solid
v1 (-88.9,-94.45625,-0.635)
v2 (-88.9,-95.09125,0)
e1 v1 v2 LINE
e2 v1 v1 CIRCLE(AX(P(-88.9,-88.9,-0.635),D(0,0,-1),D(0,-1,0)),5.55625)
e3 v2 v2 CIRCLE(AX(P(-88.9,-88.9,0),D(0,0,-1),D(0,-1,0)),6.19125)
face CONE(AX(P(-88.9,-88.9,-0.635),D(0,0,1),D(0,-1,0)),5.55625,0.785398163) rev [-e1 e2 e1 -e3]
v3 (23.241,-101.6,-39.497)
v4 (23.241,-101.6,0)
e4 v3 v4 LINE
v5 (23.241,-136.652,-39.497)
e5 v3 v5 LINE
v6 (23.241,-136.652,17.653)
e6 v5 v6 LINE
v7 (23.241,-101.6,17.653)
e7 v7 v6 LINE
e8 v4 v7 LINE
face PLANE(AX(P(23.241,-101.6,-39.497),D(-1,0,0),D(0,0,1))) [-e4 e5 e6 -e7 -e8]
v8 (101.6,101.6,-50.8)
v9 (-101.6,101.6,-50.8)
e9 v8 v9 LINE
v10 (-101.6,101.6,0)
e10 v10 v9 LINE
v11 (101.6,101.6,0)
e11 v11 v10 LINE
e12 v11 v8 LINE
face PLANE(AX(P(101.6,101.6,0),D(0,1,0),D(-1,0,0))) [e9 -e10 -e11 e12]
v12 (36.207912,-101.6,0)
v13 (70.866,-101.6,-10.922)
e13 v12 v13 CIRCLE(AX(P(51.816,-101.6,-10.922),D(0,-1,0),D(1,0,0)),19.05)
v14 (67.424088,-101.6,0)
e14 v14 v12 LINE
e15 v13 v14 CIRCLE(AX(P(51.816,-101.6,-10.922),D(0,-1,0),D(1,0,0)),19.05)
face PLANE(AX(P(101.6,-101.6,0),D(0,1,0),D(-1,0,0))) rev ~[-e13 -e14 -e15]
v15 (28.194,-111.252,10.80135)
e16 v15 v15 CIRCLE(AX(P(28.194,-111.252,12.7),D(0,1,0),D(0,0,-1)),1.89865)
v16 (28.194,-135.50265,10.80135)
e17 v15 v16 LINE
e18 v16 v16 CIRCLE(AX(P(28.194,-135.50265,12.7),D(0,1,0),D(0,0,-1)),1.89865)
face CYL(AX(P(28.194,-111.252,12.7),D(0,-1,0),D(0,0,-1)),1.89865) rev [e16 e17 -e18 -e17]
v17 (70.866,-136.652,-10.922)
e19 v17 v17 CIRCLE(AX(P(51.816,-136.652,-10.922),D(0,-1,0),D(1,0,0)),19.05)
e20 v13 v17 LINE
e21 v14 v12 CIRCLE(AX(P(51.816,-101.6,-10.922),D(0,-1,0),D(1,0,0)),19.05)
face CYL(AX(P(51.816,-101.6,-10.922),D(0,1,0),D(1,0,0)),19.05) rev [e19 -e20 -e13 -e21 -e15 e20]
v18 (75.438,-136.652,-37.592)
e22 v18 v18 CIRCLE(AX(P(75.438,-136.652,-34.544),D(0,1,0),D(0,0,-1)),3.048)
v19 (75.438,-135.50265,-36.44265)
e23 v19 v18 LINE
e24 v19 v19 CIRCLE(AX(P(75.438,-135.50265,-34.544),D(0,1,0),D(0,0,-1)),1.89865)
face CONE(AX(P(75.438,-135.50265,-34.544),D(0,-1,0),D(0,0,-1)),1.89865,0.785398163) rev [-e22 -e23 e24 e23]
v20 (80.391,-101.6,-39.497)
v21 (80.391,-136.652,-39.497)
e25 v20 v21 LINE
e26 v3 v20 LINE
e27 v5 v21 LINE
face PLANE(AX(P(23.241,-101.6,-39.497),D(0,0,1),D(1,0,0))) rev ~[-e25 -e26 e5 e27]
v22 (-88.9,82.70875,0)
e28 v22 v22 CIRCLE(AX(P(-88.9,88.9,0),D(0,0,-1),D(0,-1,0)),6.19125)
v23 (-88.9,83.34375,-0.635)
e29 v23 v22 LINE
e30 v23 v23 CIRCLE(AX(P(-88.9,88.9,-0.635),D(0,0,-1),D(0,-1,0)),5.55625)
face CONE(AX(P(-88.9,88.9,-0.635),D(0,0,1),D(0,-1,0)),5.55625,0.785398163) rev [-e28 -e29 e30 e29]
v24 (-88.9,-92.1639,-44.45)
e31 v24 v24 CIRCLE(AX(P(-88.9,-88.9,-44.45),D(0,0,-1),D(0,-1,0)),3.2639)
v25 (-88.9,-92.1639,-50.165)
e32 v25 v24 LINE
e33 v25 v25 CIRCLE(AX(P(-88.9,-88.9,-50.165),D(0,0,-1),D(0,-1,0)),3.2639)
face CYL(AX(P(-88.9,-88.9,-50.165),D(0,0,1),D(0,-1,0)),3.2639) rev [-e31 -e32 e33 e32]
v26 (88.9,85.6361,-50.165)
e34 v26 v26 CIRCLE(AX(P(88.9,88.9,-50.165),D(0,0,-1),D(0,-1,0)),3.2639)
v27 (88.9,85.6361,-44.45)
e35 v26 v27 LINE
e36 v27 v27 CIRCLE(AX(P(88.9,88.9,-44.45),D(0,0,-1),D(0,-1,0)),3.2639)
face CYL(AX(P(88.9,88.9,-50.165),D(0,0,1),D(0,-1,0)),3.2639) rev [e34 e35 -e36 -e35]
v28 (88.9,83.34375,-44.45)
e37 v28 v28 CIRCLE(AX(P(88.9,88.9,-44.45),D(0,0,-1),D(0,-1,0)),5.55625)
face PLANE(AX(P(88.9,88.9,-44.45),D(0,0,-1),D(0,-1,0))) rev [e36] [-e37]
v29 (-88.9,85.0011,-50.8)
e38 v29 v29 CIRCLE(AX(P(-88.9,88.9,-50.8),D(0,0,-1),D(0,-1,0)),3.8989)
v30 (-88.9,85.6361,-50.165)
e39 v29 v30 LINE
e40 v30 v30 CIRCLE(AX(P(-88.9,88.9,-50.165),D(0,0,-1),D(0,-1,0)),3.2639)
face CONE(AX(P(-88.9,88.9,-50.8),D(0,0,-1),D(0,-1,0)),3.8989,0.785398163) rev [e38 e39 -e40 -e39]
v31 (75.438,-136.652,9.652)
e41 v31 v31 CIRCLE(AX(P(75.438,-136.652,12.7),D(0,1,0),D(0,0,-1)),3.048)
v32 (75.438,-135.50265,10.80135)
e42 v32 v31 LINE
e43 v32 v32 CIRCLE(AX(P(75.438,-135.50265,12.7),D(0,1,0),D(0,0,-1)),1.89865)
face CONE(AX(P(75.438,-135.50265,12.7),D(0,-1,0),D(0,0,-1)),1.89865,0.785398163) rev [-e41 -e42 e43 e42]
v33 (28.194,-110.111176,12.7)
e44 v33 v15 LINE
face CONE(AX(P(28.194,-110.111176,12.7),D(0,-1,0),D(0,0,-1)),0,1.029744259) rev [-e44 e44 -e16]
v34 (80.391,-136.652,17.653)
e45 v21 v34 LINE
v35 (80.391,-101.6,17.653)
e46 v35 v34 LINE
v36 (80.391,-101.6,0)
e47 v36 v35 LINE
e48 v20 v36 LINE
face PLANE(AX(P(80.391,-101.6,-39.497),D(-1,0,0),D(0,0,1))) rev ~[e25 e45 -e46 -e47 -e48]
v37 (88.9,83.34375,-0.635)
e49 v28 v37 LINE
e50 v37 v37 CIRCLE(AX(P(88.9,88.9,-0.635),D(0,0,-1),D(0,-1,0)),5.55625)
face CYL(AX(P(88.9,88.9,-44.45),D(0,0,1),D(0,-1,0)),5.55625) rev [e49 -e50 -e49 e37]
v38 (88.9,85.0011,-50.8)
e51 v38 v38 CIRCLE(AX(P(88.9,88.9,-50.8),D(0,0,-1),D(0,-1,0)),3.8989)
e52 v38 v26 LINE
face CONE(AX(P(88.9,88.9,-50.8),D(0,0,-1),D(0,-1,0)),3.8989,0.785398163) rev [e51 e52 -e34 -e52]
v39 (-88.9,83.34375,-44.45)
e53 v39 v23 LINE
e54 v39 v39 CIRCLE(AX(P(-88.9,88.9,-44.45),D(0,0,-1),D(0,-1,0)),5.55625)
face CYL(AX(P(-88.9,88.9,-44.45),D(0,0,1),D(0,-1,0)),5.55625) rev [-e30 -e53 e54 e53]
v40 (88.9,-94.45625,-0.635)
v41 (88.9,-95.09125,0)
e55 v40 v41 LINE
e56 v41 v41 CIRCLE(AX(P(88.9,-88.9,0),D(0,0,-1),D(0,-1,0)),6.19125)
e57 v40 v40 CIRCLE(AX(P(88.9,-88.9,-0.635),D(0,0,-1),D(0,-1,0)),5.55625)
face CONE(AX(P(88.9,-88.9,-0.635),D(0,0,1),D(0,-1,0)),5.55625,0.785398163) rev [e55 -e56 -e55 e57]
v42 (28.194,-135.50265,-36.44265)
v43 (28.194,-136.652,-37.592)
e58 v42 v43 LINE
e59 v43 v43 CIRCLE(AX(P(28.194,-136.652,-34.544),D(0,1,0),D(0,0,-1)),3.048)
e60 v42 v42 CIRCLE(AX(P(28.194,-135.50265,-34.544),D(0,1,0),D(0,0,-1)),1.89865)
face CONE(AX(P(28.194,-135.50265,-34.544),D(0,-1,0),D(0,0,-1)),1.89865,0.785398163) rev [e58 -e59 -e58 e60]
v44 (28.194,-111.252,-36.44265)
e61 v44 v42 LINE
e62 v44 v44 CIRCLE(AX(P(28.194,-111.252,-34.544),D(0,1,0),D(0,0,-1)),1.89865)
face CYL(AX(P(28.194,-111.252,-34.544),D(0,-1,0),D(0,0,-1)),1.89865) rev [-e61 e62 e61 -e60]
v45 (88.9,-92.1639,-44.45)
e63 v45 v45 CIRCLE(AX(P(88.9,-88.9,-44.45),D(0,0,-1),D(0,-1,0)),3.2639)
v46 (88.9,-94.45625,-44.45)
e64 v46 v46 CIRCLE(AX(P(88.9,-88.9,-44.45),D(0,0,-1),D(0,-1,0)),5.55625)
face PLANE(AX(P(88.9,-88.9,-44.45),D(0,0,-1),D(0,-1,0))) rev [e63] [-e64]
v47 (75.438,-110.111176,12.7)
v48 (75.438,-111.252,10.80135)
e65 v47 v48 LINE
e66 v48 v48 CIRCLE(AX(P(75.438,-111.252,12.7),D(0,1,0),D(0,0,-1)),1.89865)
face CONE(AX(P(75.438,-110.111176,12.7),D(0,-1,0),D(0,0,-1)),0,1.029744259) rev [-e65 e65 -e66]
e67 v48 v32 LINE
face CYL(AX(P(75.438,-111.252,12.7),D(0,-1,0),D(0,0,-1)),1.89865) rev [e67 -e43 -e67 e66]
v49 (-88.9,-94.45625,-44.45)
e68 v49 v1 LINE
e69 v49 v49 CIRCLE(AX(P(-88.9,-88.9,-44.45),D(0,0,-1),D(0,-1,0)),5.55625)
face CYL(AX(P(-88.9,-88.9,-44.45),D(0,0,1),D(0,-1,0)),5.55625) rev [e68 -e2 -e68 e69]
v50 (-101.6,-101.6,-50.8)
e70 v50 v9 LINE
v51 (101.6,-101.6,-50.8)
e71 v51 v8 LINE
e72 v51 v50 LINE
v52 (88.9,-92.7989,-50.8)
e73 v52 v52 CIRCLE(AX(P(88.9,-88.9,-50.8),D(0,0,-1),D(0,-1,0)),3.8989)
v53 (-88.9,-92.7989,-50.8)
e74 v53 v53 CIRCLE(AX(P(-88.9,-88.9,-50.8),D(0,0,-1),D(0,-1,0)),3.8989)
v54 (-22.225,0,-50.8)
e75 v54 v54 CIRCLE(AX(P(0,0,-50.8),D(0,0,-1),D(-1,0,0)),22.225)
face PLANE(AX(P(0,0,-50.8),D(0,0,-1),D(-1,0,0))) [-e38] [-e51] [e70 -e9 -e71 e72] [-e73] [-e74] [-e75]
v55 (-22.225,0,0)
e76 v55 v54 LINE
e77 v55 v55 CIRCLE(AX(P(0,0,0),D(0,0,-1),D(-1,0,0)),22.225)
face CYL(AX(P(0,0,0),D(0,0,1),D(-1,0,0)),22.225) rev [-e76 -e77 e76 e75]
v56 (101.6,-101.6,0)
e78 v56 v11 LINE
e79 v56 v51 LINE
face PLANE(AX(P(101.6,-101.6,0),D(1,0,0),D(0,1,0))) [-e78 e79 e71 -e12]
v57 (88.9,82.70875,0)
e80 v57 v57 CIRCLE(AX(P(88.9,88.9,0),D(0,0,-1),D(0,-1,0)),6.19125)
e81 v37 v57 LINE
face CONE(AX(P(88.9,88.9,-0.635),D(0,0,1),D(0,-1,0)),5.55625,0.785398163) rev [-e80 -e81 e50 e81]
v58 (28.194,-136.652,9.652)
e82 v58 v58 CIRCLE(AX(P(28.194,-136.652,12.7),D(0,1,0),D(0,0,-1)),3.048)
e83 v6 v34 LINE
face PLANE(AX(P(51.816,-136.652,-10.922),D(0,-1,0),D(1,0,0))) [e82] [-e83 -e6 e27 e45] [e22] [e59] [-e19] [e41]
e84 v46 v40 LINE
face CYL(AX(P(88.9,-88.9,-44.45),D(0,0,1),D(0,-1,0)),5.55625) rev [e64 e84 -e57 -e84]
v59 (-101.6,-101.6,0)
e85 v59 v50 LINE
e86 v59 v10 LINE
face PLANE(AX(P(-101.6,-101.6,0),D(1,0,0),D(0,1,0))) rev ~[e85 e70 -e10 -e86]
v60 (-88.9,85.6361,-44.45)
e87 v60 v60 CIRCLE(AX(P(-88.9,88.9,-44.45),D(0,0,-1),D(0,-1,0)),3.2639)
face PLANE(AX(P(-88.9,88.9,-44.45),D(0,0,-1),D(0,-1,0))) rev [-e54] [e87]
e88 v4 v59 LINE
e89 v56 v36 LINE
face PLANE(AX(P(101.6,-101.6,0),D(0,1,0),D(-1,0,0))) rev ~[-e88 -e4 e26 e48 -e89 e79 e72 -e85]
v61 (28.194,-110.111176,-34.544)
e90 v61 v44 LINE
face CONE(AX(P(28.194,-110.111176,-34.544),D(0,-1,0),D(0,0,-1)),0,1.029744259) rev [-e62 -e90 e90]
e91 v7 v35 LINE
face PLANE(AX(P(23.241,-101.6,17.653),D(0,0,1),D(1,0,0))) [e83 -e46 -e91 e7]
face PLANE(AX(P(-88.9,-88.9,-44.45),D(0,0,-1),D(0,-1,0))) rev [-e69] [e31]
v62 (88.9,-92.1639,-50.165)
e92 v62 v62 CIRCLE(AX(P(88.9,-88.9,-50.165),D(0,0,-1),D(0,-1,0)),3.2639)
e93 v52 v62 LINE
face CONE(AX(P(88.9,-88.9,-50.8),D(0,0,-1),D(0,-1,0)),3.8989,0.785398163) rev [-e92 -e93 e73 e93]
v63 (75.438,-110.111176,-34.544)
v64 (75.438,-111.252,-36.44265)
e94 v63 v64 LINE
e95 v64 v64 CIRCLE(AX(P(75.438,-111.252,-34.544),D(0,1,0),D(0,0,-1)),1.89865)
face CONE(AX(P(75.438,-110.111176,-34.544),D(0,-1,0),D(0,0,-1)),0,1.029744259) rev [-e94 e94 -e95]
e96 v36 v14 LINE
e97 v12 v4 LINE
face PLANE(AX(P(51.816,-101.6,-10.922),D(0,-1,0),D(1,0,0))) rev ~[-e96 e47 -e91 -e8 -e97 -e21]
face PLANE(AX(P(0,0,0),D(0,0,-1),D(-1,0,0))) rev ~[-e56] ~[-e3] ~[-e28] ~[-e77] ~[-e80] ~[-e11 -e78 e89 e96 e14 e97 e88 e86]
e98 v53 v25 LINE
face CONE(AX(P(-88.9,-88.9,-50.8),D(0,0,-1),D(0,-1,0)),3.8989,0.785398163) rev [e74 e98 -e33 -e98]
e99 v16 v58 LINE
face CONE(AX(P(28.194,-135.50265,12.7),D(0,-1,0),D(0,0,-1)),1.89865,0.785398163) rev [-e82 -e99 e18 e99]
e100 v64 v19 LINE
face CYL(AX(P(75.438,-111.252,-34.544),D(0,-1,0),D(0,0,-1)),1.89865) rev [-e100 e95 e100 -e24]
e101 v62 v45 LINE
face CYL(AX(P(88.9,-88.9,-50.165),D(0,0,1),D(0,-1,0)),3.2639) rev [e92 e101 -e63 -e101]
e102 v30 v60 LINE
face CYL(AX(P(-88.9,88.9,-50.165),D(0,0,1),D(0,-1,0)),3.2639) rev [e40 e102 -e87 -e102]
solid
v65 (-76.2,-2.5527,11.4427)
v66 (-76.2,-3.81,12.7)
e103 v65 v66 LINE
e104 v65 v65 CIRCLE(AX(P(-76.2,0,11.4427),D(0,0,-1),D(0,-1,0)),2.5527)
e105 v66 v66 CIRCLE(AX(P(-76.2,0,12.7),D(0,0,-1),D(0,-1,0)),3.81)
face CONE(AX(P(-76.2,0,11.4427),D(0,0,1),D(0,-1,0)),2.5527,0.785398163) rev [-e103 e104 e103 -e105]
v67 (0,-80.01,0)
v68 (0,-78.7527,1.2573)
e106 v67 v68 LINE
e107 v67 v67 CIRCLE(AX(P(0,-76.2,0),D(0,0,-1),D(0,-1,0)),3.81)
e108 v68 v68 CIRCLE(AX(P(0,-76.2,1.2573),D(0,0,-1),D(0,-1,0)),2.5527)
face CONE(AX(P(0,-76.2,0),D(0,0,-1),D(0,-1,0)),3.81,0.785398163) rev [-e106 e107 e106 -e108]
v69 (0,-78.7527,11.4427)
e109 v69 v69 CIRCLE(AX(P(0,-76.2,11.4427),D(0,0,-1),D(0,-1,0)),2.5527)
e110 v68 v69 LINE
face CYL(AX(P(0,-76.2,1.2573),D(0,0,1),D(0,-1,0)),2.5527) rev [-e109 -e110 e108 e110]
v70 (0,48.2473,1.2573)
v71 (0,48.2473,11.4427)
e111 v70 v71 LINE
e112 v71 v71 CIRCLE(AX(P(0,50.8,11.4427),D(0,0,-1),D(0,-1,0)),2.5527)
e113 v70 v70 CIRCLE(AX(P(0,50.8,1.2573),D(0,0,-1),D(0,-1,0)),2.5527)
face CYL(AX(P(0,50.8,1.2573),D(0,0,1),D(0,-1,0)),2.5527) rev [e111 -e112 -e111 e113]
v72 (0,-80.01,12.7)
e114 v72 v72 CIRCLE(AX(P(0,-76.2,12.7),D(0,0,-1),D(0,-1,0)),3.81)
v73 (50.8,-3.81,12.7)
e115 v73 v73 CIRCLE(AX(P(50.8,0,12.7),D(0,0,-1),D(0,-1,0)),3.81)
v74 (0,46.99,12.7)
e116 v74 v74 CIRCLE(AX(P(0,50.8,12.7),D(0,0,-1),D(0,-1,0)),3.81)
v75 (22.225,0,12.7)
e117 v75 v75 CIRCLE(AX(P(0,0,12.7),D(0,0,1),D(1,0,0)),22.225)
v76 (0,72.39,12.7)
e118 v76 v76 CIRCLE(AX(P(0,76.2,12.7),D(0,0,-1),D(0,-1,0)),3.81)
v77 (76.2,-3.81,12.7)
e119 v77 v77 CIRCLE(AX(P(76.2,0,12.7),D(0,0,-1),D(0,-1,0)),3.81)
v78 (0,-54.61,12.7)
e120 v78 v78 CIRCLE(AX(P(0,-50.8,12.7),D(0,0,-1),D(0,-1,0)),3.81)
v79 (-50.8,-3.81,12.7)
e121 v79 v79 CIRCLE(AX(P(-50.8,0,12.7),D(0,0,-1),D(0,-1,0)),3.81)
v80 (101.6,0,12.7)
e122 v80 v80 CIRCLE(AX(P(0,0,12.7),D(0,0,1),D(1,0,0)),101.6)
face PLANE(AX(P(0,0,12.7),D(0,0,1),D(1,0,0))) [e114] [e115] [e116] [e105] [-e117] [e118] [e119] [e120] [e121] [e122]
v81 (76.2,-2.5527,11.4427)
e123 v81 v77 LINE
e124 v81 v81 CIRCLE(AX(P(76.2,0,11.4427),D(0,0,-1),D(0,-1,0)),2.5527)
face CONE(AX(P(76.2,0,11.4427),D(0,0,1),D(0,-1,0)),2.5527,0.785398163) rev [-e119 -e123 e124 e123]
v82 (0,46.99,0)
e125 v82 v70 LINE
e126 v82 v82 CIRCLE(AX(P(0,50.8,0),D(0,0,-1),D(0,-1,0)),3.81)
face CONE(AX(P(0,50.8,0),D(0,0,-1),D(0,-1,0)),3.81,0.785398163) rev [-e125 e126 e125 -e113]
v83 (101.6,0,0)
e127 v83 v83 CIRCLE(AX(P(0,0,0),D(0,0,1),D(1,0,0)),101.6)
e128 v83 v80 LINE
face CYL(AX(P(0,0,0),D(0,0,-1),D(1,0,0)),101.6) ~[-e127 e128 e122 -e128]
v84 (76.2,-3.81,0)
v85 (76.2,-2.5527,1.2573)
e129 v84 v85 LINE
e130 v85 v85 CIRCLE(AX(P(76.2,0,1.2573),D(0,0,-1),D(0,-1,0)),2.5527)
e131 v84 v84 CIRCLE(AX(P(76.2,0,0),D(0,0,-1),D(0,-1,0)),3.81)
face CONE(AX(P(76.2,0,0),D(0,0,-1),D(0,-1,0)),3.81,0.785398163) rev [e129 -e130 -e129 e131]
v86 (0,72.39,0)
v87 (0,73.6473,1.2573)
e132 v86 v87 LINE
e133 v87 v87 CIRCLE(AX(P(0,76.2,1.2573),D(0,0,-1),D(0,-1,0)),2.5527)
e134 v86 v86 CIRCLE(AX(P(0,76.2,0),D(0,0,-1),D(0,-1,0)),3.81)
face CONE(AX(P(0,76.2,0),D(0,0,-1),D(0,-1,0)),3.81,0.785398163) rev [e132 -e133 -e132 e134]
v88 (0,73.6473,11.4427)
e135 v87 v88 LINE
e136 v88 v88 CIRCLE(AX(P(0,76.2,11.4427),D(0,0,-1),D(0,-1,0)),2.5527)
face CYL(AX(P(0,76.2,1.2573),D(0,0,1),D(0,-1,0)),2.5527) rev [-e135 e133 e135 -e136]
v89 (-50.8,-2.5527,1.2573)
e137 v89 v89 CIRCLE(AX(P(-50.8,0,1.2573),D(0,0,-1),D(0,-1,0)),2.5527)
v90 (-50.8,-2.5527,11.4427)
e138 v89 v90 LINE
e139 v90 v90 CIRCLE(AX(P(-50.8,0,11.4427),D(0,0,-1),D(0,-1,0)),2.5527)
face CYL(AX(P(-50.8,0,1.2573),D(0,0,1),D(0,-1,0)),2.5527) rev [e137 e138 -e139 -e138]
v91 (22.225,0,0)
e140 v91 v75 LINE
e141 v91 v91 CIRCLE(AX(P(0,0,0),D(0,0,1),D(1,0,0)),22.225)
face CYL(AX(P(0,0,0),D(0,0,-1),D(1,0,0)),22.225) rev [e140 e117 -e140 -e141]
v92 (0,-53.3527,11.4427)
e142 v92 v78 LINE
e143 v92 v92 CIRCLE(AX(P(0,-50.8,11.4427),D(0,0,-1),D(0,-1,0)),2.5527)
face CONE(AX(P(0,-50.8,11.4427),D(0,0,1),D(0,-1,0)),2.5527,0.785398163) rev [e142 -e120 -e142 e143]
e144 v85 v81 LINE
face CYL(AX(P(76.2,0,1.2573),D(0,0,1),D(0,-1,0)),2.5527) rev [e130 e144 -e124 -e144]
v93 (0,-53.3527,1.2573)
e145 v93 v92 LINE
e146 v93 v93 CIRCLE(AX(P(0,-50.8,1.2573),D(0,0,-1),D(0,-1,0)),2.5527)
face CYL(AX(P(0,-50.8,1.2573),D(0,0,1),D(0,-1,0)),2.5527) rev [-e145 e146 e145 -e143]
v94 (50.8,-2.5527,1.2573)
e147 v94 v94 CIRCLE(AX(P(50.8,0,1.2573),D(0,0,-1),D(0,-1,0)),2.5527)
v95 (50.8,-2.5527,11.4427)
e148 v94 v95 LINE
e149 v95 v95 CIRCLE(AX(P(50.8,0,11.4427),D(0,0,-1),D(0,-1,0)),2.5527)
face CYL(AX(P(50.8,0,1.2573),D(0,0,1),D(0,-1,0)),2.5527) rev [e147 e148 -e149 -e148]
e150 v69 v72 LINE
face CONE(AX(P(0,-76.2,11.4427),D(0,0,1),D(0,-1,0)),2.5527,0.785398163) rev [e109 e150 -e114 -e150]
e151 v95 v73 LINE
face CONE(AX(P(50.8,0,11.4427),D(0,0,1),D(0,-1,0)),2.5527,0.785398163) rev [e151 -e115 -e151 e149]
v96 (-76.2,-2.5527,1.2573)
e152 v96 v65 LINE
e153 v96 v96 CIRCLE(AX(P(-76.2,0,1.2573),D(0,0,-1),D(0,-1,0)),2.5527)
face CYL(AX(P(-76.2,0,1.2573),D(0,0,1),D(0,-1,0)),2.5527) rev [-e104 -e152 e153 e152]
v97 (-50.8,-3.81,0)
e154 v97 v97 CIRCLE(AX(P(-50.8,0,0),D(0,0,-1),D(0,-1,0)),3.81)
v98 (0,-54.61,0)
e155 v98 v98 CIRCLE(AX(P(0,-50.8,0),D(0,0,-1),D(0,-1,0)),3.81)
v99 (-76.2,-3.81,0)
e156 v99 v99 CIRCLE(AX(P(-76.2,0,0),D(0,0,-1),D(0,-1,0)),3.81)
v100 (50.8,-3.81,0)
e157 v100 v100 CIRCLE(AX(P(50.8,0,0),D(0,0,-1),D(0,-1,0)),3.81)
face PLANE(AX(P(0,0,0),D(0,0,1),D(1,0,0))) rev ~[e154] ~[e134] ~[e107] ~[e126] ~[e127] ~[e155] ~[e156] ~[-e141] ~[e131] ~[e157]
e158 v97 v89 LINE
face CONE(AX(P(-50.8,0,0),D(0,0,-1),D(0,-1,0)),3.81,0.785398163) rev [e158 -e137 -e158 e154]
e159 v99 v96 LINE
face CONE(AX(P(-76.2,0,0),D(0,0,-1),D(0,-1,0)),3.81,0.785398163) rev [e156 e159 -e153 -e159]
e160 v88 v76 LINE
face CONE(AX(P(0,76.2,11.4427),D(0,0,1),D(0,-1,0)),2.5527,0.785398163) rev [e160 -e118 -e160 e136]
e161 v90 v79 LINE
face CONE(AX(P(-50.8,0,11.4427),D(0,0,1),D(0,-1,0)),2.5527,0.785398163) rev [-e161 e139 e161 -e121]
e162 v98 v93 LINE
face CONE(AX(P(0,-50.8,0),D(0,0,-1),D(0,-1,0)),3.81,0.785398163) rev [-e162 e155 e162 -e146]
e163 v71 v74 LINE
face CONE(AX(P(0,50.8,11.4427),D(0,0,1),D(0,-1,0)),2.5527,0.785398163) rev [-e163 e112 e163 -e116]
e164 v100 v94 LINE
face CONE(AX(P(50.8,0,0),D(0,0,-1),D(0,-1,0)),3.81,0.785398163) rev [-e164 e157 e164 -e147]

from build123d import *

# Parameters (mm, degrees)
SKETCH1_R                                     = 101.6
SKETCH1_R_2                                   = 22.225
BOSS_EXTRUDE1_DEPTH                           = 12.7
F_1_4_20_TAPPED_HOLE1_AT_2_COUNT              = 2
F_1_4_20_TAPPED_HOLE1_AT_2_PITCH              = 91.581002397
F_1_4_20_TAPPED_HOLE1_AT_3_COUNT              = 2
F_1_4_20_TAPPED_HOLE1_AT_3_PITCH              = 71.842048969
F_1_4_20_TAPPED_HOLE1_AT_4_COUNT              = 2
F_1_4_20_TAPPED_HOLE1_AT_4_PITCH              = 127
F_1_4_20_TAPPED_HOLE1_AT_5_COUNT              = 2
F_1_4_20_TAPPED_HOLE1_AT_5_PITCH              = 101.6
F_1_4_20_TAPPED_HOLE1_AT_6_COUNT              = 2
F_1_4_20_TAPPED_HOLE1_AT_6_PITCH              = 91.581002397
F_1_4_20_TAPPED_HOLE1_AT_7_COUNT              = 2
F_1_4_20_TAPPED_HOLE1_AT_7_PITCH              = 71.842048969
F_1_4_20_TAPPED_HOLE1_AT_8_COUNT              = 2
F_1_4_20_TAPPED_HOLE1_AT_8_PITCH              = 25.4
SKETCH4_W                                     = 203.2
SKETCH4_H                                     = 203.2
SKETCH4_R                                     = 22.225
BOSS_EXTRUDE2_DEPTH                           = 50.8
CBORE_FOR_1_4_SOCKET_HEAD_CAP_SCREW1_AT_COUNT = 2
CBORE_FOR_1_4_SOCKET_HEAD_CAP_SCREW1_AT_PITCH = 251.44717139
CBORE_FOR_1_4_SOCKET_HEAD_CAP_SCREW1_2_COUNT  = 2
CBORE_FOR_1_4_SOCKET_HEAD_CAP_SCREW1_2_PITCH  = 177.8
CBORE_FOR_1_4_SOCKET_HEAD_CAP_SCREW1_3_COUNT  = 2
CBORE_FOR_1_4_SOCKET_HEAD_CAP_SCREW1_3_PITCH  = 177.8
SKETCH7_W                                     = 57.15
SKETCH7_H                                     = 57.15
SKETCH7_R                                     = 19.05
BOSS_EXTRUDE3_DEPTH                           = 35.052
F_10_24_TAPPED_HOLE1_AT_2_COUNT               = 2
F_10_24_TAPPED_HOLE1_AT_2_PITCH               = 66.813105541
F_10_24_TAPPED_HOLE1_AT_3_COUNT               = 2
F_10_24_TAPPED_HOLE1_AT_3_PITCH               = 47.244
F_10_24_TAPPED_HOLE1_AT_4_COUNT               = 2
F_10_24_TAPPED_HOLE1_AT_4_PITCH               = 47.244


with BuildPart() as part:
    # Sketch1 → Boss-Extrude1 (new body)
    with BuildSketch(Plane.XY):
        Circle(SKETCH1_R)
        Circle(SKETCH1_R_2, mode=Mode.SUBTRACT)
    extrude(amount=BOSS_EXTRUDE1_DEPTH)

    # Sketch3 → 1_4-20 Tapped Hole1 (revolve, cut)
    with BuildSketch(Plane(origin=(-50.8, 0, 12.7), x_dir=(0, -1, 0), z_dir=(1, 0, 0))):
        Polygon((0, 0), (0, 12.7), (3.81, 12.7), (2.5527, 11.4427), (2.5527, 1.2573), (3.81, 0), align=None)
    f_1_4_20_tapped_hole1 = revolve(axis=Axis((-50.8, 0, 19.05), (0, 0, -1)), mode=Mode.SUBTRACT)

    # 1_4-20 Tapped Hole1 at 2: 1_4-20 Tapped Hole1 ×2
    with Locations(*[Vector(0.554700196, 0.832050294, 0) * (i * F_1_4_20_TAPPED_HOLE1_AT_2_PITCH) for i in range(1, F_1_4_20_TAPPED_HOLE1_AT_2_COUNT)]):
        add(f_1_4_20_tapped_hole1, mode=Mode.SUBTRACT)

    # 1_4-20 Tapped Hole1 at 3: 1_4-20 Tapped Hole1 ×2
    with Locations(*[Vector(0.707106781, 0.707106781, 0) * (i * F_1_4_20_TAPPED_HOLE1_AT_3_PITCH) for i in range(1, F_1_4_20_TAPPED_HOLE1_AT_3_COUNT)]):
        add(f_1_4_20_tapped_hole1, mode=Mode.SUBTRACT)

    # 1_4-20 Tapped Hole1 at 4: 1_4-20 Tapped Hole1 ×2
    with Locations(*[(i * F_1_4_20_TAPPED_HOLE1_AT_4_PITCH, 0, 0) for i in range(1, F_1_4_20_TAPPED_HOLE1_AT_4_COUNT)]):
        add(f_1_4_20_tapped_hole1, mode=Mode.SUBTRACT)

    # 1_4-20 Tapped Hole1 at 5: 1_4-20 Tapped Hole1 ×2
    with Locations(*[(i * F_1_4_20_TAPPED_HOLE1_AT_5_PITCH, 0, 0) for i in range(1, F_1_4_20_TAPPED_HOLE1_AT_5_COUNT)]):
        add(f_1_4_20_tapped_hole1, mode=Mode.SUBTRACT)

    # 1_4-20 Tapped Hole1 at 6: 1_4-20 Tapped Hole1 ×2
    with Locations(*[Vector(0.554700196, -0.832050294, 0) * (i * F_1_4_20_TAPPED_HOLE1_AT_6_PITCH) for i in range(1, F_1_4_20_TAPPED_HOLE1_AT_6_COUNT)]):
        add(f_1_4_20_tapped_hole1, mode=Mode.SUBTRACT)

    # 1_4-20 Tapped Hole1 at 7: 1_4-20 Tapped Hole1 ×2
    with Locations(*[Vector(0.707106781, -0.707106781, 0) * (i * F_1_4_20_TAPPED_HOLE1_AT_7_PITCH) for i in range(1, F_1_4_20_TAPPED_HOLE1_AT_7_COUNT)]):
        add(f_1_4_20_tapped_hole1, mode=Mode.SUBTRACT)

    # 1_4-20 Tapped Hole1 at 8: 1_4-20 Tapped Hole1 ×2
    with Locations(*[(-i * F_1_4_20_TAPPED_HOLE1_AT_8_PITCH, 0, 0) for i in range(1, F_1_4_20_TAPPED_HOLE1_AT_8_COUNT)]):
        add(f_1_4_20_tapped_hole1, mode=Mode.SUBTRACT)


with BuildPart() as body_2:
    # Sketch4 → Boss-Extrude2 (new body)
    with BuildSketch(Plane(origin=(0, 0, 0), x_dir=(-1, 0, 0), z_dir=(0, 0, -1))):
        Rectangle(SKETCH4_W, SKETCH4_H)
        Circle(SKETCH4_R, mode=Mode.SUBTRACT)
    extrude(amount=BOSS_EXTRUDE2_DEPTH)

    # Sketch6 → CBORE for 1_4 Socket Head Cap Screw1 (revolve, cut)
    with BuildSketch(Plane(origin=(-88.9, -88.9, 0), x_dir=(0, -1, 0), z_dir=(1, 0, 0))):
        Polygon((0, 0), (0, 50.8), (3.8989, 50.8), (3.2639, 50.165), (3.2639, 44.45), (5.55625, 44.45), (5.55625, 0.635), (6.19125, 0), align=None)
    cbore_for_1_4_socket_head_cap_screw1 = revolve(axis=Axis((-88.9, -88.9, 6.35), (0, 0, -1)), mode=Mode.SUBTRACT)

    # CBORE for 1_4 Socket Head Cap Screw1 at: CBORE for 1_4 Socket Head Cap Screw1 ×2
    with Locations(*[Vector(0.707106781, 0.707106781, 0) * (i * CBORE_FOR_1_4_SOCKET_HEAD_CAP_SCREW1_AT_PITCH) for i in range(1, CBORE_FOR_1_4_SOCKET_HEAD_CAP_SCREW1_AT_COUNT)]):
        add(cbore_for_1_4_socket_head_cap_screw1, mode=Mode.SUBTRACT)

    # CBORE for 1_4 Socket Head Cap Screw1 2: CBORE for 1_4 Socket Head Cap Screw1 ×2
    with Locations(*[(i * CBORE_FOR_1_4_SOCKET_HEAD_CAP_SCREW1_2_PITCH, 0, 0) for i in range(1, CBORE_FOR_1_4_SOCKET_HEAD_CAP_SCREW1_2_COUNT)]):
        add(cbore_for_1_4_socket_head_cap_screw1, mode=Mode.SUBTRACT)

    # CBORE for 1_4 Socket Head Cap Screw1 3: CBORE for 1_4 Socket Head Cap Screw1 ×2
    with Locations(*[(0, i * CBORE_FOR_1_4_SOCKET_HEAD_CAP_SCREW1_3_PITCH, 0) for i in range(1, CBORE_FOR_1_4_SOCKET_HEAD_CAP_SCREW1_3_COUNT)]):
        add(cbore_for_1_4_socket_head_cap_screw1, mode=Mode.SUBTRACT)

    # Sketch7 → Boss-Extrude3 (add)
    with BuildSketch(Plane.XZ.offset(101.6)):
        with Locations((51.816, -10.922)):
            Rectangle(SKETCH7_W, SKETCH7_H)
        with Locations((51.816, -10.922)):
            Circle(SKETCH7_R, mode=Mode.SUBTRACT)
    extrude(amount=BOSS_EXTRUDE3_DEPTH)

    # Sketch10 → 10-24 Tapped Hole1 (revolve, cut)
    with BuildSketch(Plane(origin=(28.194, -136.652, 12.7), x_dir=(0, 0, -1), z_dir=(1, 0, 0))):
        Polygon((0, 0), (0, 26.540824014), (1.89865, 25.4), (1.89865, 1.14935), (3.048, 0), align=None)
    f_10_24_tapped_hole1 = revolve(axis=Axis((28.194, -143.002, 12.7), (0, 1, 0)), mode=Mode.SUBTRACT)

    # 10-24 Tapped Hole1 at 2: 10-24 Tapped Hole1 ×2
    with Locations(*[Vector(0.707106781, 0, -0.707106781) * (i * F_10_24_TAPPED_HOLE1_AT_2_PITCH) for i in range(1, F_10_24_TAPPED_HOLE1_AT_2_COUNT)]):
        add(f_10_24_tapped_hole1, mode=Mode.SUBTRACT)

    # 10-24 Tapped Hole1 at 3: 10-24 Tapped Hole1 ×2
    with Locations(*[(i * F_10_24_TAPPED_HOLE1_AT_3_PITCH, 0, 0) for i in range(1, F_10_24_TAPPED_HOLE1_AT_3_COUNT)]):
        add(f_10_24_tapped_hole1, mode=Mode.SUBTRACT)

    # 10-24 Tapped Hole1 at 4: 10-24 Tapped Hole1 ×2
    with Locations(*[(0, 0, -i * F_10_24_TAPPED_HOLE1_AT_4_PITCH) for i in range(1, F_10_24_TAPPED_HOLE1_AT_4_COUNT)]):
        add(f_10_24_tapped_hole1, mode=Mode.SUBTRACT)


solid = Compound([part.part, body_2.part])
